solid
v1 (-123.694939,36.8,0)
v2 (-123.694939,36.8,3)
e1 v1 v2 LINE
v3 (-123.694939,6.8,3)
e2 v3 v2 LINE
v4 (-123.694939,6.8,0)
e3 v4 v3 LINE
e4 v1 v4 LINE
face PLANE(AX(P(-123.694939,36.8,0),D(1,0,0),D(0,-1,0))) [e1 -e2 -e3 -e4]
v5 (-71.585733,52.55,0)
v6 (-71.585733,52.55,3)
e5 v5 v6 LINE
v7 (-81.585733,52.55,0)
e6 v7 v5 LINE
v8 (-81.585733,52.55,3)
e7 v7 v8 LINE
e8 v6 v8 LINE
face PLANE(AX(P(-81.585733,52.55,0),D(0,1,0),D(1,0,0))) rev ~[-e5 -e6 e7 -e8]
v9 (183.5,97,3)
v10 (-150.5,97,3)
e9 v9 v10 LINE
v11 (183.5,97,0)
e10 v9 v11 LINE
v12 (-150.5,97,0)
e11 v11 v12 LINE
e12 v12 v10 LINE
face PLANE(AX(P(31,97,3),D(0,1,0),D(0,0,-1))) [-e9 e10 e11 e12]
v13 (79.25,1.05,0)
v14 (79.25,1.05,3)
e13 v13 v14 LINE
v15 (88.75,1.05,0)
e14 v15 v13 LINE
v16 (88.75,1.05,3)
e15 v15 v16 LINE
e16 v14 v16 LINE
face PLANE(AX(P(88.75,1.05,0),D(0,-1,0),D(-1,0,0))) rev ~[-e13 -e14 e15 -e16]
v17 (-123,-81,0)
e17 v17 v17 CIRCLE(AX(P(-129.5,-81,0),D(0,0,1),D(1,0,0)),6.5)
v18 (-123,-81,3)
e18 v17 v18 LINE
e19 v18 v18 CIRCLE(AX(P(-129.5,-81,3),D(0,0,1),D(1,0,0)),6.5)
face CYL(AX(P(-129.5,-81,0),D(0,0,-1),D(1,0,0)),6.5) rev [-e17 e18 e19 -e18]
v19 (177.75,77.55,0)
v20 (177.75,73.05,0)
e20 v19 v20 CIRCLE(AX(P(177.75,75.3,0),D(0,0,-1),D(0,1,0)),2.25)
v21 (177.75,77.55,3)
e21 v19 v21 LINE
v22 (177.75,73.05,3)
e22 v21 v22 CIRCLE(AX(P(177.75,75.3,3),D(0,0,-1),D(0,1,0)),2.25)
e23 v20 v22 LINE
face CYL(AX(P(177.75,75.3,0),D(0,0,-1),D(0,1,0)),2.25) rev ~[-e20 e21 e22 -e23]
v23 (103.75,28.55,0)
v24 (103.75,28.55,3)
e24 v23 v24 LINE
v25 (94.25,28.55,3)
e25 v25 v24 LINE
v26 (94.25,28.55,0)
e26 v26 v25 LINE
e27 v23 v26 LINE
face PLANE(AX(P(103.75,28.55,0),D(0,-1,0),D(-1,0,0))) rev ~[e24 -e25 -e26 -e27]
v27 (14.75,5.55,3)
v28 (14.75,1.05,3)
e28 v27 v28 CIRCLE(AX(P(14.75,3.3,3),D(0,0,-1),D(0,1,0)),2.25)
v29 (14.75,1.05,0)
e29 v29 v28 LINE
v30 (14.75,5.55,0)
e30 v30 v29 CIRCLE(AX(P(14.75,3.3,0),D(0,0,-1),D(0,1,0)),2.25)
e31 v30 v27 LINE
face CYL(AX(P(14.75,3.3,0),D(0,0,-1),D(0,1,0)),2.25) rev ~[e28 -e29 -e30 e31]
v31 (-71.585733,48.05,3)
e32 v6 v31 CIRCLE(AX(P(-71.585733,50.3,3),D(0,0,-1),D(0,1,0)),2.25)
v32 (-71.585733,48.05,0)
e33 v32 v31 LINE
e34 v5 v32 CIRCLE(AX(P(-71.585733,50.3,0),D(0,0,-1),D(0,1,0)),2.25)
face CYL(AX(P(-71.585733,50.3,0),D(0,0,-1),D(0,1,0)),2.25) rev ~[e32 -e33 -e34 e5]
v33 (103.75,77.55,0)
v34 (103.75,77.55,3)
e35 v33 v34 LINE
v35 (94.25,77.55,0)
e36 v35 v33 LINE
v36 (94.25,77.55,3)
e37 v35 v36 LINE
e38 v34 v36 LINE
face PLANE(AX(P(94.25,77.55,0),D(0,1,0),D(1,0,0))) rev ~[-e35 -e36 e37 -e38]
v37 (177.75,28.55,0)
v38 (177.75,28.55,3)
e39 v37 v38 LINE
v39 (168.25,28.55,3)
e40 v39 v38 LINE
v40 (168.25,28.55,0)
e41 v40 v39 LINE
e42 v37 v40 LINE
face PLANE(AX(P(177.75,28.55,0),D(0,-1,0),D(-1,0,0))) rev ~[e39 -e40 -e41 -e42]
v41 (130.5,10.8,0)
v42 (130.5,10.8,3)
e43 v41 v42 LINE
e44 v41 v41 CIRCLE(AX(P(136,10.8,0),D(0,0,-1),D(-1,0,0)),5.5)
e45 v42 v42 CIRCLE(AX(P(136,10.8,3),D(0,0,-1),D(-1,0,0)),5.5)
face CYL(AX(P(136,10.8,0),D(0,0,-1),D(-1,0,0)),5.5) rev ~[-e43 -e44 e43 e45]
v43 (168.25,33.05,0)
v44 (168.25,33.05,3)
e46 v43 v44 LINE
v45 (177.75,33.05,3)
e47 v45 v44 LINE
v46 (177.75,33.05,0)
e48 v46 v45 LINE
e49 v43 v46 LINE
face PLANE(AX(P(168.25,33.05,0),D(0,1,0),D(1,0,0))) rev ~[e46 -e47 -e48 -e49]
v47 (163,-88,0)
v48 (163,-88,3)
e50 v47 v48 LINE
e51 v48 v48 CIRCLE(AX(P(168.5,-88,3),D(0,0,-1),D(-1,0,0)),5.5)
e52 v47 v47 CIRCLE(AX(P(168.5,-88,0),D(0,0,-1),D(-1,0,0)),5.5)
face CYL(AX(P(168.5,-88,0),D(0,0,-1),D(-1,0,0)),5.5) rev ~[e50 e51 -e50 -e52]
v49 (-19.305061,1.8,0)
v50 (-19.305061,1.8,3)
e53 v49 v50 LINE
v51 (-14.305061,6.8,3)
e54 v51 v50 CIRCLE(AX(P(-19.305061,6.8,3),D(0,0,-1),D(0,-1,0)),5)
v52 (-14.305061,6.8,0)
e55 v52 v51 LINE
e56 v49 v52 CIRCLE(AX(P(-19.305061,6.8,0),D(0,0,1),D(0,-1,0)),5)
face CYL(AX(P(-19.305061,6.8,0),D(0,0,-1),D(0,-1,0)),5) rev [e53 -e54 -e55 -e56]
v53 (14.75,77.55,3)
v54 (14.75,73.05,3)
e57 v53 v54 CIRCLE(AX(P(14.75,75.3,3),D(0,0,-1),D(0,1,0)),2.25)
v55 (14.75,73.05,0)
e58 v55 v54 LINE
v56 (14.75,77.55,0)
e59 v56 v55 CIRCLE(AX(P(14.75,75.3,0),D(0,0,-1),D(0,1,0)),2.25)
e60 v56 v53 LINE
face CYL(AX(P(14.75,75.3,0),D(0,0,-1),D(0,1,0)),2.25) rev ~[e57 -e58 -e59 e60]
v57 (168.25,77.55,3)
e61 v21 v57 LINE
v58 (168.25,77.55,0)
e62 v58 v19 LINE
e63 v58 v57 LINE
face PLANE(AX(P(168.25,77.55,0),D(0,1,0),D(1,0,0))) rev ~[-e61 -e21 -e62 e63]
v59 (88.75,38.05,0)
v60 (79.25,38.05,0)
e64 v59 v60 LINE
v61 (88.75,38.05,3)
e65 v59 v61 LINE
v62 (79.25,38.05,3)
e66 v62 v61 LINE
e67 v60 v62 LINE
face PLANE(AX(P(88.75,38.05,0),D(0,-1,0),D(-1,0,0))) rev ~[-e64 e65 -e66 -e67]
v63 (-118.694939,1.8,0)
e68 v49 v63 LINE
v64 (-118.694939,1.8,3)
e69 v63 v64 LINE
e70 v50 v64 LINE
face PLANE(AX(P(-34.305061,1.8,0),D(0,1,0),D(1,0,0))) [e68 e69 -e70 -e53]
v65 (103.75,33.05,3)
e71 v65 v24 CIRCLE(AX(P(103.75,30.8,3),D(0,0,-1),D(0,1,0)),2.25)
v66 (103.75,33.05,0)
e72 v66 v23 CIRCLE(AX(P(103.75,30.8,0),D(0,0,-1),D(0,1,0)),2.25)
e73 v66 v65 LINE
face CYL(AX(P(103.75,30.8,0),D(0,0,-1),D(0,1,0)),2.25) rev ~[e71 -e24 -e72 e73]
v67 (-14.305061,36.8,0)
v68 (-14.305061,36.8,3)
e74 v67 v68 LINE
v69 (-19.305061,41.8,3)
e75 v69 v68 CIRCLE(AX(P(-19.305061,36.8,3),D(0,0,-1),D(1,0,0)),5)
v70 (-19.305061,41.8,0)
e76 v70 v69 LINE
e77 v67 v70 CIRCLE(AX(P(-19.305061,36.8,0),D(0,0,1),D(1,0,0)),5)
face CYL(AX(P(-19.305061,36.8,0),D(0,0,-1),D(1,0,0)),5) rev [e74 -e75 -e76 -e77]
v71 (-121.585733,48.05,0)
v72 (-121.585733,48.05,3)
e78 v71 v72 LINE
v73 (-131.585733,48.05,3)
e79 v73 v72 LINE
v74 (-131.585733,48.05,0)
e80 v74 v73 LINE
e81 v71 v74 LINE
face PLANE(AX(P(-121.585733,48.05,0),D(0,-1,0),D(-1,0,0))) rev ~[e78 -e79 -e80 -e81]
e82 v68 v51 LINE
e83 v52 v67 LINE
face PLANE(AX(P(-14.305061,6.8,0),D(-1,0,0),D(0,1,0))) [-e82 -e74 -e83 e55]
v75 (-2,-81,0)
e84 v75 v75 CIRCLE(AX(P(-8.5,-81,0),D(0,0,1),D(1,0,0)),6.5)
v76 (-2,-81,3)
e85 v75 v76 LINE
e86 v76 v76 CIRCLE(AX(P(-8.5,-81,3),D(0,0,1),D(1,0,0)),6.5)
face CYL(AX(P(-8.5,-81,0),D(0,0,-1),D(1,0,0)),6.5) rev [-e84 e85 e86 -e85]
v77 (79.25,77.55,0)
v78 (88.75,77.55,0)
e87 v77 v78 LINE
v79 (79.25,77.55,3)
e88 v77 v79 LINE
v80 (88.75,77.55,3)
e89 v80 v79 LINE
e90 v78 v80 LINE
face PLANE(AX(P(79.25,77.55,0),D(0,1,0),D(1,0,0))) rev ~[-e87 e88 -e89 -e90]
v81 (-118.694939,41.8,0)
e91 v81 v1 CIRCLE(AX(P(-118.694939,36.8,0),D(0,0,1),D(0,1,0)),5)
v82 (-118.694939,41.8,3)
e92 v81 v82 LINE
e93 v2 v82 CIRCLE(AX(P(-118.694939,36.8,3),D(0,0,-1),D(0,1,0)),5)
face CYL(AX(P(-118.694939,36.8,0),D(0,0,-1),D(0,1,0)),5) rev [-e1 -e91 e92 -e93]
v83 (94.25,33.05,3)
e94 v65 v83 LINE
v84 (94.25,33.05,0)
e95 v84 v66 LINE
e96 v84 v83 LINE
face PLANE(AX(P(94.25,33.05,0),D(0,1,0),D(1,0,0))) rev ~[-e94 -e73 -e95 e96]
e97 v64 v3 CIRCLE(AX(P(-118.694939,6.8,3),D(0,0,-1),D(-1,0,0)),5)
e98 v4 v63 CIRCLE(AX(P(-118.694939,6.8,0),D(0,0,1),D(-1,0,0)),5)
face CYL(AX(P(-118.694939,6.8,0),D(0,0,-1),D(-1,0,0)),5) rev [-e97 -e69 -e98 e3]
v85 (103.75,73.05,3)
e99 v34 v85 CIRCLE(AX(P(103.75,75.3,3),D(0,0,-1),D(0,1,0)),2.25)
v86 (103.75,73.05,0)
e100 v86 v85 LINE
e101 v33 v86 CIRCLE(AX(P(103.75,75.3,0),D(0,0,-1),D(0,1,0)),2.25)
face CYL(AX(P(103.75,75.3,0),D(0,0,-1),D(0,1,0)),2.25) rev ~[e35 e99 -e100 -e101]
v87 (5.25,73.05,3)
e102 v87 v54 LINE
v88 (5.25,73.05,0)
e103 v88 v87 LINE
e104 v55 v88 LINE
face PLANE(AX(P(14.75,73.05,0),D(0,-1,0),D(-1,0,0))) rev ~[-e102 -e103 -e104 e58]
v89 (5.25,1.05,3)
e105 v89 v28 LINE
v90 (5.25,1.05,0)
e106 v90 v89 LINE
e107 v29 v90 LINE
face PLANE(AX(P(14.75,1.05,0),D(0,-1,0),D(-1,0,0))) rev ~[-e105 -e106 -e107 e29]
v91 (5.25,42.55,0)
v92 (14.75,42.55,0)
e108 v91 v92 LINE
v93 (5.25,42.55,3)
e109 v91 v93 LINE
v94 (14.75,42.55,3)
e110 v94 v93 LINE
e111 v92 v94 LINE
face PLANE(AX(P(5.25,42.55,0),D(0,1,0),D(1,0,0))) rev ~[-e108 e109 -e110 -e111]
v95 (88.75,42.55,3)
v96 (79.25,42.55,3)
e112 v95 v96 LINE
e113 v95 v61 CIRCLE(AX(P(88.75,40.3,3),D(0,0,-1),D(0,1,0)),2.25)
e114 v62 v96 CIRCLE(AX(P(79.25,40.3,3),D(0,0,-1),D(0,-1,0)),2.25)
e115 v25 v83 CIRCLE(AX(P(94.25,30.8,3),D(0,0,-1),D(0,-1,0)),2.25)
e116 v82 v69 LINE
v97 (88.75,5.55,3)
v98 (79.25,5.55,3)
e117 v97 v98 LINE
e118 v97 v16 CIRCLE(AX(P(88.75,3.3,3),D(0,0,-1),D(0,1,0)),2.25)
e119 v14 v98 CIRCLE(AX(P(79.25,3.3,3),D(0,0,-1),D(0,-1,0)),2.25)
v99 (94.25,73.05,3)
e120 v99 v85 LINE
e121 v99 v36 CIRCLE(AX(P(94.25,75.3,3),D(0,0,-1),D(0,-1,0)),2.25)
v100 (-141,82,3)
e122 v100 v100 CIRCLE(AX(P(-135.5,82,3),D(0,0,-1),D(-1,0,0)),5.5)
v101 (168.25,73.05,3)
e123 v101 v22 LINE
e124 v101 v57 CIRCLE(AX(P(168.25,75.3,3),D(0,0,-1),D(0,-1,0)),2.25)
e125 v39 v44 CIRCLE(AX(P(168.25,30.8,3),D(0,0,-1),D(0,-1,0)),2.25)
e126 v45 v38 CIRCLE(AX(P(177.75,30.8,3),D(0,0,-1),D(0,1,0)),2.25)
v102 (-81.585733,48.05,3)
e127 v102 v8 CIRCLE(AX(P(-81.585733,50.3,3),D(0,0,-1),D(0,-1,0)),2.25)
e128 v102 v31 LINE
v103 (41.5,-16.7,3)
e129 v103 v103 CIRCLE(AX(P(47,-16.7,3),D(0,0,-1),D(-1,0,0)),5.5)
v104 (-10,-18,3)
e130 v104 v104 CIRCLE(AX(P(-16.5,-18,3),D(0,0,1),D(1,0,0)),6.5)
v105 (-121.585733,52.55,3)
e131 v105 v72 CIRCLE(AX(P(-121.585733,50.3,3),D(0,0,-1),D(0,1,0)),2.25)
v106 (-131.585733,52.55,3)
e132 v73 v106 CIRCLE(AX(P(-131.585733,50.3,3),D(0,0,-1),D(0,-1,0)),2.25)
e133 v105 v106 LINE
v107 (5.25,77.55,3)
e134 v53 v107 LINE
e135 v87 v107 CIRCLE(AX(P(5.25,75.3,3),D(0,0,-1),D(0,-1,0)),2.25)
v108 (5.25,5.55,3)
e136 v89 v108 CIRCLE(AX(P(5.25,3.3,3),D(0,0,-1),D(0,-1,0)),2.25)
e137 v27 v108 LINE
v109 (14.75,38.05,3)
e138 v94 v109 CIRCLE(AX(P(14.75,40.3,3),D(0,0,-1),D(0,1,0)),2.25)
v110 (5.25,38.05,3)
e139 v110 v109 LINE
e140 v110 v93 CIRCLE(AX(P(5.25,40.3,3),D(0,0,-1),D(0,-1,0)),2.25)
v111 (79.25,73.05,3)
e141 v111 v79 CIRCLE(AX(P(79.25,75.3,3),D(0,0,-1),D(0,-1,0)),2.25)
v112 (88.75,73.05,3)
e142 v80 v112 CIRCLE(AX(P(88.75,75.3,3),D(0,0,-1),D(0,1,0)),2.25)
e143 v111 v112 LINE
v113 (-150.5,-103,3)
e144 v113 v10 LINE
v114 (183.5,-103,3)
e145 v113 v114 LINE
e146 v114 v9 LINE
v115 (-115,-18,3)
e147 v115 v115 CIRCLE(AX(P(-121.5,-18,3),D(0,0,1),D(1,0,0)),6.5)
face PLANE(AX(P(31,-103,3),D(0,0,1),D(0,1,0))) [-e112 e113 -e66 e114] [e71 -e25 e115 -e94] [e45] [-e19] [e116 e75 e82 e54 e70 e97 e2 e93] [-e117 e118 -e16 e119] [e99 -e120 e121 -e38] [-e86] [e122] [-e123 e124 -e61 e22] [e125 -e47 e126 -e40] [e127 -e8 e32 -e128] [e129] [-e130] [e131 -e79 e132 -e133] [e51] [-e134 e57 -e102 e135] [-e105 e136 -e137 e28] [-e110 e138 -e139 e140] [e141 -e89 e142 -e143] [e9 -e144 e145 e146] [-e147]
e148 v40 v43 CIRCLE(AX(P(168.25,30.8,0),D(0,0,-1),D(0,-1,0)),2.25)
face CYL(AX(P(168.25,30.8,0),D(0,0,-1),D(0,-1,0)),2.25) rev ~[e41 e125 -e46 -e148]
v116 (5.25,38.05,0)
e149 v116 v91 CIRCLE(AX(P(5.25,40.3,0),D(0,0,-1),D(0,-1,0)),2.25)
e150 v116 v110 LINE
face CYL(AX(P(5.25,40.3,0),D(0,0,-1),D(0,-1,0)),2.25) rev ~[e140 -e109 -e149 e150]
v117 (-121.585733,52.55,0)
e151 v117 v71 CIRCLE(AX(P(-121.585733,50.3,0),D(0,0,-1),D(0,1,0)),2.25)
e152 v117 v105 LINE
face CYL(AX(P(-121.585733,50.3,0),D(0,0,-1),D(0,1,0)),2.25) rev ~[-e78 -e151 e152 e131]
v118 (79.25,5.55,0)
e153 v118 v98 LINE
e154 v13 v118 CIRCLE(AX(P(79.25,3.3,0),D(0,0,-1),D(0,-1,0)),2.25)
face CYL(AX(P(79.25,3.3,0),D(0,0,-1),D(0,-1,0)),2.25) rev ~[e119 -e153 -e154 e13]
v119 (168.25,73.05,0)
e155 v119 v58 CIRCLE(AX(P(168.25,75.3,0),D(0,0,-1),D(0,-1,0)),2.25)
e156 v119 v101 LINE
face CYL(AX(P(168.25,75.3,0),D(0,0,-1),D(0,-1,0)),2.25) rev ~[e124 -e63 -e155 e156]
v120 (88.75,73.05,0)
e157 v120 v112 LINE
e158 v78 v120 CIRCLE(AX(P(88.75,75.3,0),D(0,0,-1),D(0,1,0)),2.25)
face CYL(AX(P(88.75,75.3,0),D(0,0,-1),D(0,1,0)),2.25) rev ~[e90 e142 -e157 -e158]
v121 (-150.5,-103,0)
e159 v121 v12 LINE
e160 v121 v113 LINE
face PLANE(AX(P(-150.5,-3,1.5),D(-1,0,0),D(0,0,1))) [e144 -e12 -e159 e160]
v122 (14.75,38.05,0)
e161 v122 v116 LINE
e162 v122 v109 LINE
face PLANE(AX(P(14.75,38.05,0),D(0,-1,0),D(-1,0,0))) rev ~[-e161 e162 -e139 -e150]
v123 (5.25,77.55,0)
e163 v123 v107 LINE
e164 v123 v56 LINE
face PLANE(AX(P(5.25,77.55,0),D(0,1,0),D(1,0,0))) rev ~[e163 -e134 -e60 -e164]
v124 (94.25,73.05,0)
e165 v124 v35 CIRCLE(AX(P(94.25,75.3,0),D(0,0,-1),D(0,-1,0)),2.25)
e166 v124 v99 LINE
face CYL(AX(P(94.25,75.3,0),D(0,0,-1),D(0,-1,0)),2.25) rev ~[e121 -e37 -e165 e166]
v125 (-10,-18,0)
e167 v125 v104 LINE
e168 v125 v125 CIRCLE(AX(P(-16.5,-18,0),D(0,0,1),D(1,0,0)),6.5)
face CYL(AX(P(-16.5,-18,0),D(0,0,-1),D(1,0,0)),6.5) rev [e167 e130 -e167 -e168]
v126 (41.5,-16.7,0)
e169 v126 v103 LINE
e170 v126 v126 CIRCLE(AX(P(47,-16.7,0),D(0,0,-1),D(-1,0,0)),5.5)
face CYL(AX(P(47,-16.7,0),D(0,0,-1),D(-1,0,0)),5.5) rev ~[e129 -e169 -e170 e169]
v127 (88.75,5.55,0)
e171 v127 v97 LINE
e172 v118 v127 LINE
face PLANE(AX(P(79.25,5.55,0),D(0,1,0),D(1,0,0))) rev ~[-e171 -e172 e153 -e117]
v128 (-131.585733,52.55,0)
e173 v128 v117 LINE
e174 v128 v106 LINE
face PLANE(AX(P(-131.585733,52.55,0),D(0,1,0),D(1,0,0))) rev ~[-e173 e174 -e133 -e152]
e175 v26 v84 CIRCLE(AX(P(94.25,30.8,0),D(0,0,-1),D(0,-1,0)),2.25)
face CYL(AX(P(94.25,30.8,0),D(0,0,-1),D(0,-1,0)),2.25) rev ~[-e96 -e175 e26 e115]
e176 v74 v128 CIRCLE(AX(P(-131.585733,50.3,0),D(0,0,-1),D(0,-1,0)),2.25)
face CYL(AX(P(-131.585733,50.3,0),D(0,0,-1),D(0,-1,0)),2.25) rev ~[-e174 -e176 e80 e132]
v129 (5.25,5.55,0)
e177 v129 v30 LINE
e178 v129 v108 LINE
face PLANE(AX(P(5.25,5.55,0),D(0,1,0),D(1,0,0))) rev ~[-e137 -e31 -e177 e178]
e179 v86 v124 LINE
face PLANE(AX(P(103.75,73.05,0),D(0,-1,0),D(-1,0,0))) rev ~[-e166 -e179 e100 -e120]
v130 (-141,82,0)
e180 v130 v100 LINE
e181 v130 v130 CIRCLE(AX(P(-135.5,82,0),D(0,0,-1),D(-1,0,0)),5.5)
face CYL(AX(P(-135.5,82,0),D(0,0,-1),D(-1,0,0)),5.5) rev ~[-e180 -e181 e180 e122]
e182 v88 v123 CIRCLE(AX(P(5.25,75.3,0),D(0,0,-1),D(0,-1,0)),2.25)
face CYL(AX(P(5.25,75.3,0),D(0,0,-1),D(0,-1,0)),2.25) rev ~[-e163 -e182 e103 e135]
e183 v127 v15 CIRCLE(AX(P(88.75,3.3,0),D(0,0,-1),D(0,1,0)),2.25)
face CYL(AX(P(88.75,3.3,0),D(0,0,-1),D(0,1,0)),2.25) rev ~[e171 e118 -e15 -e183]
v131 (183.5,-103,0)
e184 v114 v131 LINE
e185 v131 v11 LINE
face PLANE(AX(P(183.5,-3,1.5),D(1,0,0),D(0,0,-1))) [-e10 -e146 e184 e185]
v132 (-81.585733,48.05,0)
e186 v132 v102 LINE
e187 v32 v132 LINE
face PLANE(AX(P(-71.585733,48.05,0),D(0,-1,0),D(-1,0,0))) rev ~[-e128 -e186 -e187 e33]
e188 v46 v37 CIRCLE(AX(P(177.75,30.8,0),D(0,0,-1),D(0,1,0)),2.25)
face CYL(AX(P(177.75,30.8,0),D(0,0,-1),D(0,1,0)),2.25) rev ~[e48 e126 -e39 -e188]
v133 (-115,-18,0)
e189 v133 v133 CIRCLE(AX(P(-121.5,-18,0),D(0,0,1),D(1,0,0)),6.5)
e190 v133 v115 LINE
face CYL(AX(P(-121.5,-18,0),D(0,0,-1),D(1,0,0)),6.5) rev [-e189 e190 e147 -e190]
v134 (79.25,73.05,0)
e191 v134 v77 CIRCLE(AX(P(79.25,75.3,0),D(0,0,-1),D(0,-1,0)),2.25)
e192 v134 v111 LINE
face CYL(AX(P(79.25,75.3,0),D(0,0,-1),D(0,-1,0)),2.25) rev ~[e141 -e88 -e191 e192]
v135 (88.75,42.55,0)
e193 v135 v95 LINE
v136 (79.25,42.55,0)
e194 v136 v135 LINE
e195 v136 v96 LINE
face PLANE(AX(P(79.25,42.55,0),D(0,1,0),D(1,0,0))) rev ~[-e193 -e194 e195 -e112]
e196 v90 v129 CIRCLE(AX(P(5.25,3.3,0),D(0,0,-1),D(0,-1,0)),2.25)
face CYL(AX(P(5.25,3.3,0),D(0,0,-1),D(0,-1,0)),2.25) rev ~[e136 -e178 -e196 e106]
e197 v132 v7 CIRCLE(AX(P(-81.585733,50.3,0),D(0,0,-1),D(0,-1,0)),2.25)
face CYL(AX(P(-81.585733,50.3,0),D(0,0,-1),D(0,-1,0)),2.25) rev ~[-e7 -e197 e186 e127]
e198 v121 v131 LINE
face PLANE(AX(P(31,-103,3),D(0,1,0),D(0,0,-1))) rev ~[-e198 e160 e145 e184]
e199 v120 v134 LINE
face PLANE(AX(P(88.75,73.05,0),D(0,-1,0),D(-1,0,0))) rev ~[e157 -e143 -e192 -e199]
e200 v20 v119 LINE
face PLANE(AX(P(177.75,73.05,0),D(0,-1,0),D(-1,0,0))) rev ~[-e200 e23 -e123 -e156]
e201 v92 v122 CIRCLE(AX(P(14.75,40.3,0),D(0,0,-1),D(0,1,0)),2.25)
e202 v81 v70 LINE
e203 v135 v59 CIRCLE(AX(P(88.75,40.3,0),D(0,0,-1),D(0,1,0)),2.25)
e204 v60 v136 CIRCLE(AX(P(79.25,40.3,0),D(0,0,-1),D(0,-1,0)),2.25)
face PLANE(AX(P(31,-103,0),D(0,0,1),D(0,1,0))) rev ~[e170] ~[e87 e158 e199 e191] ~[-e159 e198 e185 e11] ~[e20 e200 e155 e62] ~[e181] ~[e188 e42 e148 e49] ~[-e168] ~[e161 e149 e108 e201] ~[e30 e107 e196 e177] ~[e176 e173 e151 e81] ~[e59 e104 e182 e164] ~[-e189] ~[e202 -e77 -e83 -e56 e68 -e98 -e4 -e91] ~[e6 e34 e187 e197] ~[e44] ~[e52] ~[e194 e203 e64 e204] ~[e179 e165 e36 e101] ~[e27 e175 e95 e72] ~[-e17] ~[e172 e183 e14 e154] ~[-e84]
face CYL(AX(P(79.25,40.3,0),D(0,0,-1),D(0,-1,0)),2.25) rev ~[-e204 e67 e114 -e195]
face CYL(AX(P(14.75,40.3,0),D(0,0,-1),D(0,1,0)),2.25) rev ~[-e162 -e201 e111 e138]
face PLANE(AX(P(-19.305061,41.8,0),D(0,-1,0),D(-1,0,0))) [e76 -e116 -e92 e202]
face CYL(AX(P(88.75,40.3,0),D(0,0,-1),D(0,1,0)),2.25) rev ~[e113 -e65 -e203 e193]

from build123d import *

# Parameters (mm, degrees)
SCHIZZO1_W                   = 200
SCHIZZO1_H                   = 200
SCHIZZO1_R                   = 6.5
ESTRUSIONE_ESTRUSIONE1_DEPTH = 3
SCHIZZO5_W                   = 3
SCHIZZO5_H                   = 200
ESTRUSIONE_ESTRUSIONE2_DEPTH = 152.5
SCHIZZO7_W                   = 3
SCHIZZO7_H                   = 200
TAGLIO_ESTRUSIONE3_DEPTH     = 18.5
SCHIZZO10_W                  = 49.389877506
SCHIZZO10_H                  = 20
TAGLIO_ESTRUSIONE4_DEPTH     = 211.4524887
SCHIZZO12_R                  = 2.25
TAGLIO_ESTRUSIONE5_DEPTH     = 211.4524887
SCHIZZO13_R                  = 2.25
TAGLIO_ESTRUSIONE6_DEPTH     = 211.4524887
SCHIZZO14_R                  = 5.5
TAGLIO_ESTRUSIONE7_DEPTH     = 211.4524887


with BuildPart() as part:
    # Schizzo1 → Estrusione-Estrusione1 (new body)
    with BuildSketch(Plane.XY):
        with Locations((-69, -3)):
            Rectangle(SCHIZZO1_W, SCHIZZO1_H)
        with Locations((-121.5, -18)):
            Circle(SCHIZZO1_R, mode=Mode.SUBTRACT)
        with Locations((-16.5, -18)):
            Circle(SCHIZZO1_R, mode=Mode.SUBTRACT)
        with Locations((-129.5, -81)):
            Circle(SCHIZZO1_R, mode=Mode.SUBTRACT)
        with Locations((-8.5, -81)):
            Circle(SCHIZZO1_R, mode=Mode.SUBTRACT)
    extrude(amount=ESTRUSIONE_ESTRUSIONE1_DEPTH)

    # Schizzo5 → Estrusione-Estrusione2 (add)
    with BuildSketch(Plane(origin=(31, 0, 0), x_dir=(0, 0, -1), z_dir=(1, 0, 0))):
        with Locations((-1.5, -3)):
            Rectangle(SCHIZZO5_W, SCHIZZO5_H)
    extrude(amount=ESTRUSIONE_ESTRUSIONE2_DEPTH)

    # Schizzo7 → Taglio-Estrusione3 (cut)
    with BuildSketch(Plane.ZY.offset(169)):
        with Locations((1.5, -3)):
            Rectangle(SCHIZZO7_W, SCHIZZO7_H)
    extrude(amount=-TAGLIO_ESTRUSIONE3_DEPTH, mode=Mode.SUBTRACT)

    # Schizzo10 → Taglio-Estrusione4 (cut, through all)
    # profile 1 of 4: a face of its own
    with BuildSketch(Plane(origin=(0, 0, 0), x_dir=(-1, 0, 0), z_dir=(0, 0, -1))):
        Polygon((44.305061247, 41.8), (34.305061247, 41.8), (34.305061247, 31.8), (34.305061247, 1.8), (103.694938753, 1.8), (103.694938753, 31.8), (103.694938753, 41.8), (93.694938753, 41.8), align=None)
        with Locations((69, 21.8)):
            Rectangle(SCHIZZO10_W, SCHIZZO10_H, mode=Mode.SUBTRACT)
    # profile 2 of 4: a face of its own
    with BuildSketch(Plane(origin=(0, 0, 0), x_dir=(-1, 0, 0), z_dir=(0, 0, -1))):
        with Locations((69, 21.8)):
            Rectangle(SCHIZZO10_W, SCHIZZO10_H)
    # profile 3 of 4: a face of its own
    with BuildSketch(Plane(origin=(0, 0, 0), x_dir=(-1, 0, 0), z_dir=(0, 0, -1))):
        with BuildLine():
            Line((103.694938753, 1.8), (103.694938753, 41.8))
            Line((103.694938753, 41.8), (118.694938753, 41.8))
            ThreePointArc((118.694938753, 41.8), (122.230472659, 40.335533906), (123.694938753, 36.8))
            Line((123.694938753, 36.8), (123.694938753, 6.8))
            ThreePointArc((123.694938753, 6.8), (122.230472659, 3.264466094), (118.694938753, 1.8))
            Line((118.694938753, 1.8), (103.694938753, 1.8))
        make_face()
    # profile 4 of 4: a face of its own
    with BuildSketch(Plane(origin=(0, 0, 0), x_dir=(-1, 0, 0), z_dir=(0, 0, -1))):
        with BuildLine():
            Line((34.305061247, 41.8), (34.305061247, 1.8))
            Line((34.305061247, 1.8), (19.305061247, 1.8))
            ThreePointArc((19.305061247, 1.8), (15.769527341, 3.264466094), (14.305061247, 6.8))
            Line((14.305061247, 6.8), (14.305061247, 36.8))
            ThreePointArc((14.305061247, 36.8), (15.769527341, 40.335533906), (19.305061247, 41.8))
            Line((19.305061247, 41.8), (34.305061247, 41.8))
        make_face()
    extrude(amount=-TAGLIO_ESTRUSIONE4_DEPTH, mode=Mode.SUBTRACT)

    # Schizzo12 → Taglio-Estrusione5 (cut, through all)
    with BuildSketch(Plane(origin=(0, 0, 0), x_dir=(-1, 0, 0), z_dir=(0, 0, -1))):
        with BuildLine():
            Line((-10.000000003, 1.05), (-5.25, 1.05))
            ThreePointArc((-5.25, 1.05), (-3, 3.3), (-5.25, 5.55))
            Line((-5.25, 5.55), (-10, 5.55))
            ThreePointArc((-10, 5.55), (-8.409009742, 4.890990258), (-7.75, 3.3))
            ThreePointArc((-7.75, 3.3), (-8.409009743, 1.709009741), (-10.000000003, 1.05))
        make_face()
        with BuildLine():
            Line((-14.75, 1.05), (-10.000000003, 1.05))
            ThreePointArc((-10.000000003, 1.05), (-12.25, 3.300000001), (-10, 5.55))
            Line((-10, 5.55), (-14.75, 5.55))
            ThreePointArc((-14.75, 5.55), (-17, 3.3), (-14.75, 1.05))
        make_face()
        with Locations((-10, 3.3)):
            Circle(SCHIZZO12_R)
        with BuildLine():
            Line((-10, 38.05), (-5.25, 38.05))
            ThreePointArc((-5.25, 38.05), (-3, 40.3), (-5.25, 42.55))
            Line((-5.25, 42.55), (-10.00000002, 42.55))
            ThreePointArc((-10.00000002, 42.55), (-8.40900975, 41.890990265), (-7.75, 40.3))
            ThreePointArc((-7.75, 40.3), (-8.409009742, 38.709009742), (-10, 38.05))
        make_face()
        with Locations((-10, 40.3)):
            Circle(SCHIZZO12_R)
        with BuildLine():
            Line((-14.75, 38.05), (-10, 38.05))
            ThreePointArc((-10, 38.05), (-12.25, 40.29999999), (-10.00000002, 42.55))
            Line((-10.00000002, 42.55), (-14.75, 42.55))
            ThreePointArc((-14.75, 42.55), (-17, 40.3), (-14.75, 38.05))
        make_face()
        with BuildLine():
            Line((-10, 73.05), (-5.25, 73.05))
            ThreePointArc((-5.25, 73.05), (-3, 75.3), (-5.25, 77.55))
            Line((-5.25, 77.55), (-10.000000033, 77.55))
            ThreePointArc((-10.000000033, 77.55), (-8.409009754, 76.890990269), (-7.75, 75.3))
            ThreePointArc((-7.75, 75.3), (-8.409009742, 73.709009742), (-10, 73.05))
        make_face()
        with Locations((-10, 75.3)):
            Circle(SCHIZZO12_R)
        with BuildLine():
            Line((-14.75, 73.05), (-10, 73.05))
            ThreePointArc((-10, 73.05), (-12.25, 75.299999983), (-10.000000033, 77.55))
            Line((-10.000000033, 77.55), (-14.75, 77.55))
            ThreePointArc((-14.75, 77.55), (-17, 75.3), (-14.75, 73.05))
        make_face()
        with BuildLine():
            Line((-88.75, 73.05), (-84, 73.05))
            ThreePointArc((-84, 73.05), (-86.25, 75.299999913), (-84.000000174, 77.55))
            Line((-84.000000174, 77.55), (-88.75, 77.55))
            ThreePointArc((-88.75, 77.55), (-91, 75.3), (-88.75, 73.05))
        make_face()
        with Locations((-84, 75.3)):
            Circle(SCHIZZO12_R)
        with BuildLine():
            Line((-84, 73.05), (-79.25, 73.05))
            ThreePointArc((-79.25, 73.05), (-77, 75.3), (-79.25, 77.55))
            Line((-79.25, 77.55), (-84.000000174, 77.55))
            ThreePointArc((-84.000000174, 77.55), (-82.409009804, 76.890990319), (-81.75, 75.3))
            ThreePointArc((-81.75, 75.3), (-82.409009742, 73.709009742), (-84, 73.05))
        make_face()
        with BuildLine():
            Line((-99, 73.05), (-94.25, 73.05))
            ThreePointArc((-94.25, 73.05), (-92, 75.3), (-94.25, 77.55))
            Line((-94.25, 77.55), (-99.00000002, 77.55))
            ThreePointArc((-99.00000002, 77.55), (-97.40900975, 76.890990265), (-96.75, 75.3))
            ThreePointArc((-96.75, 75.3), (-97.409009742, 73.709009742), (-99, 73.05))
        make_face()
        with Locations((-99, 75.3)):
            Circle(SCHIZZO12_R)
        with BuildLine():
            Line((-103.75, 73.05), (-99, 73.05))
            ThreePointArc((-99, 73.05), (-101.25, 75.29999999), (-99.00000002, 77.55))
            Line((-99.00000002, 77.55), (-103.75, 77.55))
            ThreePointArc((-103.75, 77.55), (-106, 75.3), (-103.75, 73.05))
        make_face()
        with BuildLine():
            Line((-84, 38.05), (-79.25, 38.05))
            ThreePointArc((-79.25, 38.05), (-77, 40.3), (-79.25, 42.55))
            Line((-79.25, 42.55), (-84, 42.55))
            ThreePointArc((-84, 42.55), (-82.409009742, 41.890990258), (-81.75, 40.3))
            ThreePointArc((-81.75, 40.3), (-82.409009742, 38.709009742), (-84, 38.05))
        make_face()
        with Locations((-84, 40.3)):
            Circle(SCHIZZO12_R)
        with BuildLine():
            Line((-88.75, 38.05), (-84, 38.05))
            ThreePointArc((-84, 38.05), (-86.25, 40.3), (-84, 42.55))
            Line((-84, 42.55), (-88.75, 42.55))
            ThreePointArc((-88.75, 42.55), (-91, 40.3), (-88.75, 38.05))
        make_face()
        with Locations((-84, 3.3)):
            Circle(SCHIZZO12_R)
        with BuildLine():
            Line((-84, 1.05), (-79.25, 1.05))
            ThreePointArc((-79.25, 1.05), (-77, 3.3), (-79.25, 5.55))
            Line((-79.25, 5.55), (-84, 5.55))
            ThreePointArc((-84, 5.55), (-82.409009742, 4.890990258), (-81.75, 3.3))
            ThreePointArc((-81.75, 3.3), (-82.409009742, 1.709009742), (-84, 1.05))
        make_face()
        with BuildLine():
            Line((-88.75, 1.05), (-84, 1.05))
            ThreePointArc((-84, 1.05), (-86.25, 3.3), (-84, 5.55))
            Line((-84, 5.55), (-88.75, 5.55))
            ThreePointArc((-88.75, 5.55), (-91, 3.3), (-88.75, 1.05))
        make_face()
        with BuildLine():
            Line((-99, 28.55), (-94.25, 28.55))
            ThreePointArc((-94.25, 28.55), (-92, 30.8), (-94.25, 33.05))
            Line((-94.25, 33.05), (-99, 33.05))
            ThreePointArc((-99, 33.05), (-97.409009742, 32.390990258), (-96.75, 30.8))
            ThreePointArc((-96.75, 30.8), (-97.409009742, 29.209009742), (-99, 28.55))
        make_face()
        with Locations((-99, 30.8)):
            Circle(SCHIZZO12_R)
        with BuildLine():
            Line((-103.75, 28.55), (-99, 28.55))
            ThreePointArc((-99, 28.55), (-101.25, 30.8), (-99, 33.05))
            Line((-99, 33.05), (-103.75, 33.05))
            ThreePointArc((-103.75, 33.05), (-106, 30.8), (-103.75, 28.55))
        make_face()
        with BuildLine():
            Line((-173, 28.55), (-168.25, 28.55))
            ThreePointArc((-168.25, 28.55), (-166, 30.8), (-168.25, 33.05))
            Line((-168.25, 33.05), (-173, 33.05))
            ThreePointArc((-173, 33.05), (-171.409009742, 32.390990258), (-170.75, 30.8))
            ThreePointArc((-170.75, 30.8), (-171.409009742, 29.209009742), (-173, 28.55))
        make_face()
        with Locations((-173, 30.8)):
            Circle(SCHIZZO12_R)
        with BuildLine():
            Line((-177.75, 28.55), (-173, 28.55))
            ThreePointArc((-173, 28.55), (-175.25, 30.8), (-173, 33.05))
            Line((-173, 33.05), (-177.75, 33.05))
            ThreePointArc((-177.75, 33.05), (-180, 30.8), (-177.75, 28.55))
        make_face()
        with BuildLine():
            Line((-173, 73.05), (-168.25, 73.05))
            ThreePointArc((-168.25, 73.05), (-166, 75.3), (-168.25, 77.55))
            Line((-168.25, 77.55), (-172.999999967, 77.55))
            ThreePointArc((-172.999999967, 77.55), (-171.409009731, 76.890990246), (-170.75, 75.3))
            ThreePointArc((-170.75, 75.3), (-171.409009742, 73.709009742), (-173, 73.05))
        make_face()
        with Locations((-173, 75.3)):
            Circle(SCHIZZO12_R)
        with BuildLine():
            Line((-177.75, 73.05), (-173, 73.05))
            ThreePointArc((-173, 73.05), (-175.25, 75.300000017), (-172.999999967, 77.55))
            Line((-172.999999967, 77.55), (-177.75, 77.55))
            ThreePointArc((-177.75, 77.55), (-180, 75.3), (-177.75, 73.05))
        make_face()
    extrude(amount=-TAGLIO_ESTRUSIONE5_DEPTH, mode=Mode.SUBTRACT)

    # Schizzo13 → Taglio-Estrusione6 (cut, through all)
    with BuildSketch(Plane(origin=(0, 0, 0), x_dir=(-1, 0, 0), z_dir=(0, 0, -1))):
        with BuildLine():
            Line((126.585733074, 48.05), (131.585733074, 48.05))
            ThreePointArc((131.585733074, 48.05), (133.835733074, 50.3), (131.585733074, 52.55))
            Line((131.585733074, 52.55), (126.585733074, 52.55))
            ThreePointArc((126.585733074, 52.55), (128.176723332, 51.890990258), (128.835733074, 50.3))
            ThreePointArc((128.835733074, 50.3), (128.176723332, 48.709009742), (126.585733074, 48.05))
        make_face()
        with Locations((126.585733074, 50.3)):
            Circle(SCHIZZO13_R)
        with BuildLine():
            Line((121.585733074, 48.05), (126.585733074, 48.05))
            ThreePointArc((126.585733074, 48.05), (124.335733074, 50.3), (126.585733074, 52.55))
            Line((126.585733074, 52.55), (121.585733074, 52.55))
            ThreePointArc((121.585733074, 52.55), (119.335733074, 50.3), (121.585733074, 48.05))
        make_face()
        with BuildLine():
            Line((76.585733074, 48.05), (81.585733074, 48.05))
            ThreePointArc((81.585733074, 48.05), (83.835733074, 50.3), (81.585733074, 52.55))
            Line((81.585733074, 52.55), (76.585733074, 52.55))
            ThreePointArc((76.585733074, 52.55), (78.176723332, 51.890990258), (78.835733074, 50.3))
            ThreePointArc((78.835733074, 50.3), (78.176723332, 48.709009742), (76.585733074, 48.05))
        make_face()
        with Locations((76.585733074, 50.3)):
            Circle(SCHIZZO13_R)
        with BuildLine():
            Line((71.585733074, 48.05), (76.585733074, 48.05))
            ThreePointArc((76.585733074, 48.05), (74.335733074, 50.3), (76.585733074, 52.55))
            Line((76.585733074, 52.55), (71.585733074, 52.55))
            ThreePointArc((71.585733074, 52.55), (69.335733074, 50.3), (71.585733074, 48.05))
        make_face()
    extrude(amount=-TAGLIO_ESTRUSIONE6_DEPTH, mode=Mode.SUBTRACT)

    # Schizzo14 → Taglio-Estrusione7 (cut, through all)
    with BuildSketch(Plane(origin=(0, 0, 0), x_dir=(-1, 0, 0), z_dir=(0, 0, -1))):
        with Locations((-168.5, -88)):
            Circle(SCHIZZO14_R)
        with Locations((135.5, 82)):
            Circle(SCHIZZO14_R)
        with Locations((-47, -16.7)):
            Circle(SCHIZZO14_R)
        with Locations((-136, 10.8)):
            Circle(SCHIZZO14_R)
    extrude(amount=-TAGLIO_ESTRUSIONE7_DEPTH, mode=Mode.SUBTRACT)


solid = part.part
